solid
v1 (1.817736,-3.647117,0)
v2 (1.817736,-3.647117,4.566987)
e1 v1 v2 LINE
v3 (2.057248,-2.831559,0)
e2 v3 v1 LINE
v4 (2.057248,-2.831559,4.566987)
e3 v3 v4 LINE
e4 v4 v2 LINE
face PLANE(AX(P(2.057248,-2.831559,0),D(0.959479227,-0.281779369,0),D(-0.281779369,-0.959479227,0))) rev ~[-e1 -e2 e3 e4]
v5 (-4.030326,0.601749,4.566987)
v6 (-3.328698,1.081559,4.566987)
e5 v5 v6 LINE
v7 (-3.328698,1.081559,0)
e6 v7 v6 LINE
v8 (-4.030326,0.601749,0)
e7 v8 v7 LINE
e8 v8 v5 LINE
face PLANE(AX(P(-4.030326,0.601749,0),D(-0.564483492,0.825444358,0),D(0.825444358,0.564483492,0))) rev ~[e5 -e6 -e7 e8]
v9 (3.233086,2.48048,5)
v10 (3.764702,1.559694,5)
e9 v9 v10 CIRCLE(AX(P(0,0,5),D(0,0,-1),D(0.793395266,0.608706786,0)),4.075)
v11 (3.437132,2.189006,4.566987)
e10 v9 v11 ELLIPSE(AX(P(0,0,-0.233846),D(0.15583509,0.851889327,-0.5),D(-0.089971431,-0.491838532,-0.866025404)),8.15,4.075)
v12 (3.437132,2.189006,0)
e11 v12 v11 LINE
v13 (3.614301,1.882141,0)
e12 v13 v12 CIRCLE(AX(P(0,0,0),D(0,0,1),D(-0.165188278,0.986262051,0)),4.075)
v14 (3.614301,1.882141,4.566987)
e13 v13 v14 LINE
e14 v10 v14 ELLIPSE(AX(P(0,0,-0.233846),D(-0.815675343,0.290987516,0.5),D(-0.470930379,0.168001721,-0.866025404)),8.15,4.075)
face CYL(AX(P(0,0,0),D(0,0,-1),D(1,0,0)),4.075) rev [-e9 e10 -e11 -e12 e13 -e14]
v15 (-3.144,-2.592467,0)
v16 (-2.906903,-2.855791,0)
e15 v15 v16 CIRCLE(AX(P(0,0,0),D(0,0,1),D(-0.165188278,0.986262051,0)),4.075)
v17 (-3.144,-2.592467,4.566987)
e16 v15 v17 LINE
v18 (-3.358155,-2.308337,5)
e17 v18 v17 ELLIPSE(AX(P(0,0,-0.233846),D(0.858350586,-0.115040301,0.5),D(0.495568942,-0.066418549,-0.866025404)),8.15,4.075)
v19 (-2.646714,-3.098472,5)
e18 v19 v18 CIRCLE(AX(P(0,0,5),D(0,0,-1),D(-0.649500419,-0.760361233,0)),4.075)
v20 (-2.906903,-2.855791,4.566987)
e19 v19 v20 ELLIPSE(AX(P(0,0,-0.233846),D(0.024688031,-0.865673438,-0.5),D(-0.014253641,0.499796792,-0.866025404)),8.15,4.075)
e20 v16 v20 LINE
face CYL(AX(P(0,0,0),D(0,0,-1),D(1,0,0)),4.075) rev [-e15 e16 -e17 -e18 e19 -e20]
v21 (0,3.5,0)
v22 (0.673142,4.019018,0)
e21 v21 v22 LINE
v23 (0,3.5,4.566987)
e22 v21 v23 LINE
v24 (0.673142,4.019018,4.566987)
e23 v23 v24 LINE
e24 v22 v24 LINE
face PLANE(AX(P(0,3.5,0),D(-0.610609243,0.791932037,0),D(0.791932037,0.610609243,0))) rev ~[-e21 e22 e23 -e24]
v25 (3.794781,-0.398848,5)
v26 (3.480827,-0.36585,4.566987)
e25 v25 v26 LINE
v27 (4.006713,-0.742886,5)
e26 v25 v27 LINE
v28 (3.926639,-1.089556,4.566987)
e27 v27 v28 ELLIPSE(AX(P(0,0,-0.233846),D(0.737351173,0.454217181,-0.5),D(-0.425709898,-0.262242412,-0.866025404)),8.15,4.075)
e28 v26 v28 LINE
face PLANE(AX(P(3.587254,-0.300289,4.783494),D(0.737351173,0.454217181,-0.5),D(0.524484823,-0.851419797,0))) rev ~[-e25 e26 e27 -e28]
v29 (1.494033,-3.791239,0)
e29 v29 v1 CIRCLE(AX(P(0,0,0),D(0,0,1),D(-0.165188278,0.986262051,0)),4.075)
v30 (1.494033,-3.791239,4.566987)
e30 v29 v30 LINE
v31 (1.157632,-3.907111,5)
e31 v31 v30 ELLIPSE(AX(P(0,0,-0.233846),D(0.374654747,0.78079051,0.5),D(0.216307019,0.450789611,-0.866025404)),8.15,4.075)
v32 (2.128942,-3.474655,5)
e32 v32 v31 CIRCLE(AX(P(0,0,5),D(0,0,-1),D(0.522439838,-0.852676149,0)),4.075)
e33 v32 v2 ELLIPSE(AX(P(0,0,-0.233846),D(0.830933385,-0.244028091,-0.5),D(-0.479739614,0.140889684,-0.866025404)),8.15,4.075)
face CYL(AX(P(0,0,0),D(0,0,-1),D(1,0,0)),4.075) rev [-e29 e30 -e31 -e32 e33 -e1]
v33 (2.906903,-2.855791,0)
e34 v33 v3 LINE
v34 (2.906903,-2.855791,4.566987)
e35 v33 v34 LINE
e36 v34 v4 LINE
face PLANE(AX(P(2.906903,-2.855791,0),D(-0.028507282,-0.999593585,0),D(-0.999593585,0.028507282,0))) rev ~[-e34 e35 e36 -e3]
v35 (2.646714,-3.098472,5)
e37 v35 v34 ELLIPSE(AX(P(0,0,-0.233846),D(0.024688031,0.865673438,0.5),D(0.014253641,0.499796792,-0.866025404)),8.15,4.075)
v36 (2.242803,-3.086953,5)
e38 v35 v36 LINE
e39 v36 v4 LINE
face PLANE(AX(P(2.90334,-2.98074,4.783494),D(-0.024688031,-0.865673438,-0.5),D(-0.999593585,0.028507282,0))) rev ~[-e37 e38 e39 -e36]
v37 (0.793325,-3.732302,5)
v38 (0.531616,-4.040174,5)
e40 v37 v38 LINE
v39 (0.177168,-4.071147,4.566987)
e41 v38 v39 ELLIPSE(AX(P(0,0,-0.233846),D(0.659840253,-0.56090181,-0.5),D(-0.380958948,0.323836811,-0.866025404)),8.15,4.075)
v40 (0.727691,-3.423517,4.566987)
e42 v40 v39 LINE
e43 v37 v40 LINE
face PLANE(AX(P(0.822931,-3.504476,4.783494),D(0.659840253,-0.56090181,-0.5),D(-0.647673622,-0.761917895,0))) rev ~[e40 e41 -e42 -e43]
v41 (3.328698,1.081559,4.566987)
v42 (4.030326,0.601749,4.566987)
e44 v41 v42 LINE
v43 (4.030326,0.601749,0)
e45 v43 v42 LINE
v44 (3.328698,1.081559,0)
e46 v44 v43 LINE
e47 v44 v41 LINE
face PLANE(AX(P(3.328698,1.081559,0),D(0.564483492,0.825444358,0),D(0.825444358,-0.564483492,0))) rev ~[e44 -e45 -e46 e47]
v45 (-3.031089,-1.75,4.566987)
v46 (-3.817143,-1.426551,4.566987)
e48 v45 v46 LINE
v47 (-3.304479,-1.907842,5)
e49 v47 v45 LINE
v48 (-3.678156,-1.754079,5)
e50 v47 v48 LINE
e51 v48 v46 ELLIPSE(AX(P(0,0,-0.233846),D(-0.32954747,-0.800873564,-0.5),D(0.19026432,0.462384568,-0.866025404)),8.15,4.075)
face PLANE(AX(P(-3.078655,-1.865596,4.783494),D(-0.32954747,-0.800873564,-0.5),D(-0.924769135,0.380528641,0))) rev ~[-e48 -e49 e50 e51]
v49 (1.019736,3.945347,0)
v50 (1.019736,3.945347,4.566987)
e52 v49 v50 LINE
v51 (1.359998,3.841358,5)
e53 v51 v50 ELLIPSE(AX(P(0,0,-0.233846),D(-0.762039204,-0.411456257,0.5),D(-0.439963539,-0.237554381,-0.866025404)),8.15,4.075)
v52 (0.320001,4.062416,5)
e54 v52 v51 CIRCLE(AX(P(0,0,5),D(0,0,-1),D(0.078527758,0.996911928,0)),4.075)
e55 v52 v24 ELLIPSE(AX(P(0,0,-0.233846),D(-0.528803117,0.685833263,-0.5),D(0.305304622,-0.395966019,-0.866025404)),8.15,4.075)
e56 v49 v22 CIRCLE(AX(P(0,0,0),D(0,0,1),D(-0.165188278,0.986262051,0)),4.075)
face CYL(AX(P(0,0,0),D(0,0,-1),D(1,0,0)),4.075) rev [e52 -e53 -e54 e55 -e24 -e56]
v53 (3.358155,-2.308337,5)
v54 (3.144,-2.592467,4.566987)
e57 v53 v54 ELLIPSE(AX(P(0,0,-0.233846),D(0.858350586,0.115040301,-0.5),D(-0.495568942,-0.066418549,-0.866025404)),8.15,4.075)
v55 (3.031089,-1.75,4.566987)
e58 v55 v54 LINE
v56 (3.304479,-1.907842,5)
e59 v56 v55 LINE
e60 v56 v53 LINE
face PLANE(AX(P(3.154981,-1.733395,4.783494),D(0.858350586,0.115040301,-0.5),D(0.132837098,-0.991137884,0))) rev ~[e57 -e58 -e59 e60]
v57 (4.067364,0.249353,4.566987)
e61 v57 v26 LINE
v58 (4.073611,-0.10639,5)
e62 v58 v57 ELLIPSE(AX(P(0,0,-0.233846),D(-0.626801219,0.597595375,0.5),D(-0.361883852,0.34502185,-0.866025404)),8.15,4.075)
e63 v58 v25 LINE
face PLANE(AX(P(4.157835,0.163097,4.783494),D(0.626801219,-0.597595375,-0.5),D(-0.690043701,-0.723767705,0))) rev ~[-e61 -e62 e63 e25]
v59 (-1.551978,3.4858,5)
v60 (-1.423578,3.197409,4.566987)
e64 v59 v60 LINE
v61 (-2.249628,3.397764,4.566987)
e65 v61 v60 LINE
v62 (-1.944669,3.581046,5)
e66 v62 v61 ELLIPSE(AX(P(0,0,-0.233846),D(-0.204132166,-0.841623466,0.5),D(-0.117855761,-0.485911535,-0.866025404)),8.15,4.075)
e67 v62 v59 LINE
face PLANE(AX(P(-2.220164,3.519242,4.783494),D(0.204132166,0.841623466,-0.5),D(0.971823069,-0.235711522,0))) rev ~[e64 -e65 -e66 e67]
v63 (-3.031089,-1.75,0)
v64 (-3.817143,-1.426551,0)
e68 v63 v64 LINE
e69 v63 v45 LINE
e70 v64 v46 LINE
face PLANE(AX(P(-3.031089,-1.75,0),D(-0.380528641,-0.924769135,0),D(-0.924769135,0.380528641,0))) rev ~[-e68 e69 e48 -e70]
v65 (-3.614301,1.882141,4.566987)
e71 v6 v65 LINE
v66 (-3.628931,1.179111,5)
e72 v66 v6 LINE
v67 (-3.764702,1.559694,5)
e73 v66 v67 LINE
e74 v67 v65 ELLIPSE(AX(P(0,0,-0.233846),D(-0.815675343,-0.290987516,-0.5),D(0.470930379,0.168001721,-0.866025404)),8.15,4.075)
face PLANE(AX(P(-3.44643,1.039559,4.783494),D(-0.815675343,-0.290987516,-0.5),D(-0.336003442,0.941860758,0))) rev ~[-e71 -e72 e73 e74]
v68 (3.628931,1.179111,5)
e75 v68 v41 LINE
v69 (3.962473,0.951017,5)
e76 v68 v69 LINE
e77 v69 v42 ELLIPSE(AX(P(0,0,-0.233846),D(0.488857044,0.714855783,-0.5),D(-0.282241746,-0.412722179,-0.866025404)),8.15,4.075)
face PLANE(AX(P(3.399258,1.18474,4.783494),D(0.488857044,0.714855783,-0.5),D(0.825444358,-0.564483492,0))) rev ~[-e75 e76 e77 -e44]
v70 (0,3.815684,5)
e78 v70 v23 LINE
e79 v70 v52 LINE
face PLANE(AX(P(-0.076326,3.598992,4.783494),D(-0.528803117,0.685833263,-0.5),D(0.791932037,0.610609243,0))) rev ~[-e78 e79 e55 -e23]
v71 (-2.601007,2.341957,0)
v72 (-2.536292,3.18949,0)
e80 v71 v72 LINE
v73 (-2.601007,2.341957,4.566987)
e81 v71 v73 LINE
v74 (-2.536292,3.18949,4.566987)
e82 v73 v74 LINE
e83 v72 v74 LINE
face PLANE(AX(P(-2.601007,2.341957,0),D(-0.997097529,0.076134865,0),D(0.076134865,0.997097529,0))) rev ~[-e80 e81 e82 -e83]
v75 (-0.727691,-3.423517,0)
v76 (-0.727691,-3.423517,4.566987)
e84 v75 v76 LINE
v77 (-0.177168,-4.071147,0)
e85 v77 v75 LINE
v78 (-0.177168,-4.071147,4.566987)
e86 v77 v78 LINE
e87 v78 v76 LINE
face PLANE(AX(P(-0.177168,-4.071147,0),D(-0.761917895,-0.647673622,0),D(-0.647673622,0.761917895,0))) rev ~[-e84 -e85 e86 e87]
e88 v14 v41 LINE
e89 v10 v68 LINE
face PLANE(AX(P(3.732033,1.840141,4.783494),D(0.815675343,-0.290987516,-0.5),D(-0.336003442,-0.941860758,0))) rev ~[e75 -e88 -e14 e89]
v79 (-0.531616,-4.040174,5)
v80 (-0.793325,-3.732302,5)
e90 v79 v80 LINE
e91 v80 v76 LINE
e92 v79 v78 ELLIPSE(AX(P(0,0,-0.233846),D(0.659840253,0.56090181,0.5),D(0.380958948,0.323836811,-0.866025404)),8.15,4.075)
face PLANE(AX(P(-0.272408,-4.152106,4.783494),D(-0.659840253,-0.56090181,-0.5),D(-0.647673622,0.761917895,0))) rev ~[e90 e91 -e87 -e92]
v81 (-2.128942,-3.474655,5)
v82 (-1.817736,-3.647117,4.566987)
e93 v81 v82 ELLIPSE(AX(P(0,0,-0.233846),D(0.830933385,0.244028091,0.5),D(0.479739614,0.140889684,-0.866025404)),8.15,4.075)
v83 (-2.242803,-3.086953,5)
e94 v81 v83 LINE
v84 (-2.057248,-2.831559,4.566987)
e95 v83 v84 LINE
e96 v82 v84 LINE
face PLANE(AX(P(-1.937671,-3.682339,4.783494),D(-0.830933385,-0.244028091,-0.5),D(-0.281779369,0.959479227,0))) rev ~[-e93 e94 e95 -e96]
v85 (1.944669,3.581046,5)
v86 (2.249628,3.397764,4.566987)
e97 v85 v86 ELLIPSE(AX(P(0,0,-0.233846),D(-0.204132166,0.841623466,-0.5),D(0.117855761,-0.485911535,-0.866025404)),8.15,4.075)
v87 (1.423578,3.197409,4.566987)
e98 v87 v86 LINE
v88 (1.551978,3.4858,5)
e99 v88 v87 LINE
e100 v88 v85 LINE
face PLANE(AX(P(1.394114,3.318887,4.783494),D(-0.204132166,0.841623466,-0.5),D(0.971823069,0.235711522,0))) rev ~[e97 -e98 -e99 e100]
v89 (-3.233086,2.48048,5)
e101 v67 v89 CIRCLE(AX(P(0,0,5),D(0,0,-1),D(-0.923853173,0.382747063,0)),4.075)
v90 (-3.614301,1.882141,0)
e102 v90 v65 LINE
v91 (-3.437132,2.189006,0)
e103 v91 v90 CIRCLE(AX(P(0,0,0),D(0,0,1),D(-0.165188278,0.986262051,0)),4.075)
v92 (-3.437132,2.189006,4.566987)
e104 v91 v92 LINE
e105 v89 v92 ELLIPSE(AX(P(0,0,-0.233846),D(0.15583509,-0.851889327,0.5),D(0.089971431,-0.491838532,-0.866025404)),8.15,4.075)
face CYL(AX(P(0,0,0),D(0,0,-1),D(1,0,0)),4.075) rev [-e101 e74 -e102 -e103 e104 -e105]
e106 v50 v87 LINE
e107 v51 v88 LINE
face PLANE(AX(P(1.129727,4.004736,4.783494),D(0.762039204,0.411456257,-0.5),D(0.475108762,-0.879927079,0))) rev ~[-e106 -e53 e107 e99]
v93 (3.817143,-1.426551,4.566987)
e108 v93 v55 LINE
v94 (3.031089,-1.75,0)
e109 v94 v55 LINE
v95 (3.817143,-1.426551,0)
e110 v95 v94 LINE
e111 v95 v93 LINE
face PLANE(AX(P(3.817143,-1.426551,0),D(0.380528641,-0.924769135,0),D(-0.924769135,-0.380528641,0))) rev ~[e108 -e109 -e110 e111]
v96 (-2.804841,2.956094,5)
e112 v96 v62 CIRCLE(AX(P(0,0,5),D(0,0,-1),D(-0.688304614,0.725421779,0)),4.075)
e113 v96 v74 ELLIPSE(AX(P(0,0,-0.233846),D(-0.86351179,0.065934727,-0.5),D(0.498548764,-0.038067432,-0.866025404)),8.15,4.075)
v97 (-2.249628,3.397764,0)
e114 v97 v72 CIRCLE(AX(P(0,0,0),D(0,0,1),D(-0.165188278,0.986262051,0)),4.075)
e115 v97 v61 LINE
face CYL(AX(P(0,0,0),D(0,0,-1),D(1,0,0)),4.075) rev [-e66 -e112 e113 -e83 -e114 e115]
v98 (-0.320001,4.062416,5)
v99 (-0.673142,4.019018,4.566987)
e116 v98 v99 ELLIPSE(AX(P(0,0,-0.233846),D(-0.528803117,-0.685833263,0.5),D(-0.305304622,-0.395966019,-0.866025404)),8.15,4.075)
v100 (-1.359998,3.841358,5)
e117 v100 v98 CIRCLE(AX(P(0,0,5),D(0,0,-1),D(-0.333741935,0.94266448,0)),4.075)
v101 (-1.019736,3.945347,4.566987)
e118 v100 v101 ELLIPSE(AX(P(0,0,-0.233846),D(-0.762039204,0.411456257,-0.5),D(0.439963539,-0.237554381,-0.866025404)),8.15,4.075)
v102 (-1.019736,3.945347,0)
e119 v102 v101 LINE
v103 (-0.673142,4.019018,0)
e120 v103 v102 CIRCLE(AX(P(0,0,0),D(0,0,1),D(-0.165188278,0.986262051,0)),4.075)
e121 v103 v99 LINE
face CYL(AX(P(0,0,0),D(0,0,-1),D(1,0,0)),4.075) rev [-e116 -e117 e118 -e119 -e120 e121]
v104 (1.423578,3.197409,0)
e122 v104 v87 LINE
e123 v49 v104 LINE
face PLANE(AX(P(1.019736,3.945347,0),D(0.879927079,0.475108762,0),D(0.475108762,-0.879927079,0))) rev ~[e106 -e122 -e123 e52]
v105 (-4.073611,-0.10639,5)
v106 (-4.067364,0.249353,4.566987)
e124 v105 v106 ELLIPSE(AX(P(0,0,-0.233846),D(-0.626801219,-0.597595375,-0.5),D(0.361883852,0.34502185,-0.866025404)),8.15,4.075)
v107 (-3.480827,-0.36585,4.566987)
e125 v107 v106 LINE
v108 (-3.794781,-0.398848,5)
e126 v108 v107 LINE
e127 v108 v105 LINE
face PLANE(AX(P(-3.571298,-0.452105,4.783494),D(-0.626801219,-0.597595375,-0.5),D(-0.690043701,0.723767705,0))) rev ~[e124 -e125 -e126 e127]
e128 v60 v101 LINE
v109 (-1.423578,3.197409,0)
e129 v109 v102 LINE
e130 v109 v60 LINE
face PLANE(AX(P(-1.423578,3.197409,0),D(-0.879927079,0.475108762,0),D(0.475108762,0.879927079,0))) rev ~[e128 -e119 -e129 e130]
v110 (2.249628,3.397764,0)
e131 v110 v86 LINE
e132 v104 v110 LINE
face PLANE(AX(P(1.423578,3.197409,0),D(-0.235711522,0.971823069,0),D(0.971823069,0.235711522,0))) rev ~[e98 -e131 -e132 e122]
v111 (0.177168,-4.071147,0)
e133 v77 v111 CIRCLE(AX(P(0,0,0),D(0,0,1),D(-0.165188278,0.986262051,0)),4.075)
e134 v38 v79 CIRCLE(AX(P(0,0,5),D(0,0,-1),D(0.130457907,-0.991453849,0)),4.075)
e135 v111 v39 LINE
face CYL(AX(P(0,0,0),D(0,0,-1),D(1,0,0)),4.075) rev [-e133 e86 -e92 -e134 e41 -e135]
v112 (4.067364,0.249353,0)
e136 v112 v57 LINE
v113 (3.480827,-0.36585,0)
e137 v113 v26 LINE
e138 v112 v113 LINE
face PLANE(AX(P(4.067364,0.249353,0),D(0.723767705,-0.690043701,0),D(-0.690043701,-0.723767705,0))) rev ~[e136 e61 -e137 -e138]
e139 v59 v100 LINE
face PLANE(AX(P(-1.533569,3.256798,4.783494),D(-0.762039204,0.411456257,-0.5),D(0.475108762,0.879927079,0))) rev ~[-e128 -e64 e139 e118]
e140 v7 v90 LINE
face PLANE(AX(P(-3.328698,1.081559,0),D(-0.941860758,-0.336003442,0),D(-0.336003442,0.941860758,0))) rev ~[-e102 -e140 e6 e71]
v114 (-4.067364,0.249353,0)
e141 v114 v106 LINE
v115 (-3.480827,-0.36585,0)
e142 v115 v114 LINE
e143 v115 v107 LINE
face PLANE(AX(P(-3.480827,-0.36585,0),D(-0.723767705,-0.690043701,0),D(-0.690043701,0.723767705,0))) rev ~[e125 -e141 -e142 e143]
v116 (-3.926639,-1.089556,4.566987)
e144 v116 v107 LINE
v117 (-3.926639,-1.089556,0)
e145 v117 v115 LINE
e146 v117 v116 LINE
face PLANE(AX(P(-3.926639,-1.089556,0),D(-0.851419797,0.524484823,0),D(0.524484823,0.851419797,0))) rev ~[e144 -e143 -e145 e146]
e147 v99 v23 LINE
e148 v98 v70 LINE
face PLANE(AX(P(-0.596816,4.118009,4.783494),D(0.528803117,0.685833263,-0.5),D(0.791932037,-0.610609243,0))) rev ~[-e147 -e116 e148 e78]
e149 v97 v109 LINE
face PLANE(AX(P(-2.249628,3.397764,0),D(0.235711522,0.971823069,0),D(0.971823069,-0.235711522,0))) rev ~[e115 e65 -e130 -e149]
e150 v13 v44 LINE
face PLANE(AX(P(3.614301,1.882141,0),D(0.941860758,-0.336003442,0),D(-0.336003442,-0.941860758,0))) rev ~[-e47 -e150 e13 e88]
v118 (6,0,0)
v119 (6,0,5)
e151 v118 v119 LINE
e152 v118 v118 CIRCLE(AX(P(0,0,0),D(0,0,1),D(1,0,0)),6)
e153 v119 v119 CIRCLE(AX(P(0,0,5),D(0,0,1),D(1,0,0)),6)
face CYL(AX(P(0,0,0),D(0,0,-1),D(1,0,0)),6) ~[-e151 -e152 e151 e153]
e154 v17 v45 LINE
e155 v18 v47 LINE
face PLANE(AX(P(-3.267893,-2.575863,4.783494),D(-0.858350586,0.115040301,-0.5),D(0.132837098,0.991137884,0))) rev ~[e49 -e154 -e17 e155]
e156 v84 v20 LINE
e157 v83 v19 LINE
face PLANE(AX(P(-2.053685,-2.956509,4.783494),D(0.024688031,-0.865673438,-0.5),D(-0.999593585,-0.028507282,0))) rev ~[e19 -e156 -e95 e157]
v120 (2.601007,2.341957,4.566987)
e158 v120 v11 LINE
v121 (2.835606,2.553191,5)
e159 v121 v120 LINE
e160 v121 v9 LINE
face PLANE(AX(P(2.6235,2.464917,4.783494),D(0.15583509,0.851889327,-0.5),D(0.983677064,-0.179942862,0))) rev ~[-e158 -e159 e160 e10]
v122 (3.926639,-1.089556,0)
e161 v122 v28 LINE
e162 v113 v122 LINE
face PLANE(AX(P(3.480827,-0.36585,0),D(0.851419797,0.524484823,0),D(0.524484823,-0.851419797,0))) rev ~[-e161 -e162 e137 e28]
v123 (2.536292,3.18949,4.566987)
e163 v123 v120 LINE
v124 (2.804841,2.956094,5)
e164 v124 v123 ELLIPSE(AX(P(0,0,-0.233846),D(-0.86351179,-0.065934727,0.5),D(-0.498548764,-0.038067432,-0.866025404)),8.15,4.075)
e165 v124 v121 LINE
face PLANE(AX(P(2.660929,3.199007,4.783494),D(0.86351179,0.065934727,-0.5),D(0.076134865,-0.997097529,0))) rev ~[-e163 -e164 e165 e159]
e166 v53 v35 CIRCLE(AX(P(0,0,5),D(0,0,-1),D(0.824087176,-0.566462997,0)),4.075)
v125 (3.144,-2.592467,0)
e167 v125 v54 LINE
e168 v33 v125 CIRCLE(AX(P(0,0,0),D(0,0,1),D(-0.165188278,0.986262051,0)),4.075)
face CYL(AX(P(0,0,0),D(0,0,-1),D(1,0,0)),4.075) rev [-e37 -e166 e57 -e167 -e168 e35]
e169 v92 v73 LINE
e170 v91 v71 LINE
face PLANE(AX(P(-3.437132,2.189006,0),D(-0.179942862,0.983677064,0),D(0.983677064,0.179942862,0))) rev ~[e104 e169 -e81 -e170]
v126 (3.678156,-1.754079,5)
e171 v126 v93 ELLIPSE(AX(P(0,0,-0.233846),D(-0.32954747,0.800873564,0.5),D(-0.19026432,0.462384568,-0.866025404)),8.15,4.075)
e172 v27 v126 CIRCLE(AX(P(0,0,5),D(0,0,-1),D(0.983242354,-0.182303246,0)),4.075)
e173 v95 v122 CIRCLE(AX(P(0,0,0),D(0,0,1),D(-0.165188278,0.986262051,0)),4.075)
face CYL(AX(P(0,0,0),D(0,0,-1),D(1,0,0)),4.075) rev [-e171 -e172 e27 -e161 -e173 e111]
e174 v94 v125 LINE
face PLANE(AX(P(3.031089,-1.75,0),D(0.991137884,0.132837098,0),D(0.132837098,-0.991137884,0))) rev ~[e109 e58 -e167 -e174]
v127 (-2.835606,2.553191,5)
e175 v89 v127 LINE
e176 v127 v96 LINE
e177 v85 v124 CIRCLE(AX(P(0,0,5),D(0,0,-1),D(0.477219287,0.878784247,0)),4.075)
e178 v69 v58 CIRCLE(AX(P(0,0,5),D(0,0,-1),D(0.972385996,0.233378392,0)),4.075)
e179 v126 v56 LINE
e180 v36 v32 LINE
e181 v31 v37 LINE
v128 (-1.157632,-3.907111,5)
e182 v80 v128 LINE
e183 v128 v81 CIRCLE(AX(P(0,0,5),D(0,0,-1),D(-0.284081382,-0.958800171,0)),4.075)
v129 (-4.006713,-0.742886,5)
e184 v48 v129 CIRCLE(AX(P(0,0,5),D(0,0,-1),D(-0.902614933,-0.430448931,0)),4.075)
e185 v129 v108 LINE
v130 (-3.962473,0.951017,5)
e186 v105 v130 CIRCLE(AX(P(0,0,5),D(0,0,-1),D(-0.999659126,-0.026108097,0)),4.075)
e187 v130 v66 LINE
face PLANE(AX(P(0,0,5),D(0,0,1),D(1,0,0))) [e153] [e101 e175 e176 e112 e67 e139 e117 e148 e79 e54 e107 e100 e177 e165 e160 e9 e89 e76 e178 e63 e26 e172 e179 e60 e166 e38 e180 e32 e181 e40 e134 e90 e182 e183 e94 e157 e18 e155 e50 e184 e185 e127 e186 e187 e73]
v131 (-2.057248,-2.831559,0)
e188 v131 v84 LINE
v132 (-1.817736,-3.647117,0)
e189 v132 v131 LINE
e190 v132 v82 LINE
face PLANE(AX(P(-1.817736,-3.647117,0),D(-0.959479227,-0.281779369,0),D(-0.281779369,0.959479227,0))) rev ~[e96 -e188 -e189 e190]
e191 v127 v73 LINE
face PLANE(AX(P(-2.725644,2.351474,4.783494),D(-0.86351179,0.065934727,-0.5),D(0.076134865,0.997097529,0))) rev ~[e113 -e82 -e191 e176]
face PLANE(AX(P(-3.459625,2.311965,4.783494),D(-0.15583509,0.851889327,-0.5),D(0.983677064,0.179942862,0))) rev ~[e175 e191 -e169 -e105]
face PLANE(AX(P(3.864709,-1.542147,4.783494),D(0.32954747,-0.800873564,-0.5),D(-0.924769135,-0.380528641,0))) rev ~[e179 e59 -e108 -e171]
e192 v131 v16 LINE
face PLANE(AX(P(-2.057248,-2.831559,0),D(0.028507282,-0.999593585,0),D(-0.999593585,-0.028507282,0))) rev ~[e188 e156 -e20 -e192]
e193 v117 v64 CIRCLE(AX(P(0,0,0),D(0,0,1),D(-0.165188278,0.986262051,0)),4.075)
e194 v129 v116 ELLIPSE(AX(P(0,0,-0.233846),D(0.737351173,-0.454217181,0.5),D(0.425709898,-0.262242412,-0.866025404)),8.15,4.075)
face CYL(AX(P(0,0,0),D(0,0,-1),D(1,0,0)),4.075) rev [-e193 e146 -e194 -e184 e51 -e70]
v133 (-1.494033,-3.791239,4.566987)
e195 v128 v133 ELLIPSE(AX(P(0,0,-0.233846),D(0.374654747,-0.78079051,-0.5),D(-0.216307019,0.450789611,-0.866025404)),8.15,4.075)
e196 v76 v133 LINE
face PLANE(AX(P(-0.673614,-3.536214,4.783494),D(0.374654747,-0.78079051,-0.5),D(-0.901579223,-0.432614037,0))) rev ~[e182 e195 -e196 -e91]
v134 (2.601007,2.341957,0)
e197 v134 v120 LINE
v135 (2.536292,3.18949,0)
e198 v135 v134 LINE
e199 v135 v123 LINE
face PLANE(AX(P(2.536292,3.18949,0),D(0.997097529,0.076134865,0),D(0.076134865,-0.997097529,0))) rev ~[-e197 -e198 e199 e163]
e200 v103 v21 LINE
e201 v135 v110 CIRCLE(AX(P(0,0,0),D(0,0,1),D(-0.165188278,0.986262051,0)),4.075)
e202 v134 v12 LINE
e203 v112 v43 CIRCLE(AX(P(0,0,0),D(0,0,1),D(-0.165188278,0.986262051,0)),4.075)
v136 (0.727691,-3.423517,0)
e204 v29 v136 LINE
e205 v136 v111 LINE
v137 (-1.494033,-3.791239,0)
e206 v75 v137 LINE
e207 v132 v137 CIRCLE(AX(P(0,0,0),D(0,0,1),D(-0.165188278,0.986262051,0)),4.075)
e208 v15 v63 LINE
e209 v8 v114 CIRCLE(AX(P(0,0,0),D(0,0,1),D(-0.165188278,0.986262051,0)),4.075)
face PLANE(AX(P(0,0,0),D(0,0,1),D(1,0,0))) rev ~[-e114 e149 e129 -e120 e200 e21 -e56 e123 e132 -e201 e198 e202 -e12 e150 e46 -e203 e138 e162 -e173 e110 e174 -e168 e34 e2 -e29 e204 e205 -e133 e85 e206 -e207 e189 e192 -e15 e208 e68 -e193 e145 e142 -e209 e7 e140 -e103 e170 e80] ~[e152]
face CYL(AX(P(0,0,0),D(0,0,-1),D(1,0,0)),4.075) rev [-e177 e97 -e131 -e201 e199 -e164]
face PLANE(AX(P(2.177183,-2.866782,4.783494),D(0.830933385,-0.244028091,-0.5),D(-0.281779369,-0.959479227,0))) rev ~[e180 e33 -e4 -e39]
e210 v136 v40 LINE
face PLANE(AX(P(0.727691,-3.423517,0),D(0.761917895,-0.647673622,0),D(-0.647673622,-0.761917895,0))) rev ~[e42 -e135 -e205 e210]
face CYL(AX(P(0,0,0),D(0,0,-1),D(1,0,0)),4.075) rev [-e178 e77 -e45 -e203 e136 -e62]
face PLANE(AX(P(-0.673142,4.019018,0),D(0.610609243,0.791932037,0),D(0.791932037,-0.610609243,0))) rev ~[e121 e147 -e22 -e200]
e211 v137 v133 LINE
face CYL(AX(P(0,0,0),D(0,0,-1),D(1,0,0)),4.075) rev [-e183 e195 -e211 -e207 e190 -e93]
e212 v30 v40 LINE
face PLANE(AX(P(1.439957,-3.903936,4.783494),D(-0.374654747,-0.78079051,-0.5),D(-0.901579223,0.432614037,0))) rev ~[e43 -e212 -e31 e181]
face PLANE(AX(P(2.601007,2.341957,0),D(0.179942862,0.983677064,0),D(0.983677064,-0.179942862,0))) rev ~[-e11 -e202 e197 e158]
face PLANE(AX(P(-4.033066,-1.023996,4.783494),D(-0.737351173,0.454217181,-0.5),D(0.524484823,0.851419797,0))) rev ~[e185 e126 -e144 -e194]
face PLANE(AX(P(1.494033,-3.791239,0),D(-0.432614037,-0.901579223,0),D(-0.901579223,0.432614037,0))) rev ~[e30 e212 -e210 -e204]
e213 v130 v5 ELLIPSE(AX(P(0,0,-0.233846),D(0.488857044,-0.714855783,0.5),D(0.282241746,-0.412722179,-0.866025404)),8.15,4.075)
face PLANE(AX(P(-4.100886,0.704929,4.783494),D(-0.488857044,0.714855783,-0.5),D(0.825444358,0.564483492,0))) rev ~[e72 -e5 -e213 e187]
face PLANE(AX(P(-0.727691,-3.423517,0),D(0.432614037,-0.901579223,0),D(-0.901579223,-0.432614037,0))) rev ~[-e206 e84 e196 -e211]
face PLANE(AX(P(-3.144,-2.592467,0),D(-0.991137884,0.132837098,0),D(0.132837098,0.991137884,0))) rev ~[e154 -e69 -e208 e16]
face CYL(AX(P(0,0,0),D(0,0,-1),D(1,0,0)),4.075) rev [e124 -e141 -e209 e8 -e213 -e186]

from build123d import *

# Parameters (mm, degrees)
SKETCH1_R                          = 6
SKETCH1_R_2                        = 4.075
RING_DEPTH                         = 5
SINGLE_TEETH_DEPTH                 = 5
TEETHCHAMPFER_SIZE                 = 0.25
TEETHCHAMPFER_SIZE2                = 0.433012702
F_15TH_TEETHS_COUNT                = 15
TEETHCHAMPFER_OF_15TH_TEETHS_SIZE2 = 0.433012702
TEETHCHAMPFER_OF_15TH_TEETHS_SIZE  = 0.25


with BuildPart() as part:
    # Sketch1 → ring (new body)
    with BuildSketch(Plane.XY):
        Circle(SKETCH1_R)
        Circle(SKETCH1_R_2, mode=Mode.SUBTRACT)
    extrude(amount=RING_DEPTH)

    # Sketch1<4> → single teeth (add)
    with BuildSketch(Plane.XY):
        with BuildLine():
            Line((-0.673142232, 4.019017857), (0, 3.5))
            Line((0, 3.5), (0.673142232, 4.019017857))
            ThreePointArc((0.673142232, 4.019017857), (0, 4.075), (-0.673142232, 4.019017857))
        make_face()
    single_teeth = extrude(amount=SINGLE_TEETH_DEPTH)

    # teethChampfer
    teethchampfer_edges = [part.edges().sort_by_distance(p)[0] for p in [
        (-0.336571116, 3.759508929, 5),
        (0.336571116, 3.759508929, 5),
    ]]
    teethchampfer_side = [part.faces().sort_by_distance(p)[0] for p in [
        (-5.830294373, 0, 5),
    ]]
    chamfer(teethchampfer_edges, length=TEETHCHAMPFER_SIZE, length2=TEETHCHAMPFER_SIZE2, reference=teethchampfer_side[0])

    # 15th teeths: single teeth ×15 about axis
    f_15th_teeths_axis = Axis((0, 0, 0), (0, 0, 1))
    for i in range(1, F_15TH_TEETHS_COUNT):
        add(single_teeth.rotate(f_15th_teeths_axis, i * 360 / F_15TH_TEETHS_COUNT))

    # teethChampfer of 15th teeths
    teethchampfer_of_15th_teeths_edges = [part.edges().sort_by_distance(p)[0] for p in [
        (-1.836603055, 3.297586499, 5),
        (-1.221657027, 3.57137811, 5),
        (-3.019069641, 2.265481406, 5),
        (-2.568649572, 2.765723572, 5),
        (-3.679511659, 0.841653997, 5),
        (-3.47149927, 1.481850302, 5),
        (-3.703732684, -0.727703035, 5),
        (-3.774095207, -0.058248347, 5),
        (-3.08754468, -2.171233601, 5),
        (-3.424115796, -1.588275328, 5),
        (-1.937492152, -3.239338152, 5),
        (-2.482075657, -2.843675076, 5),
        (-0.452429629, -3.747331708, 5),
        (-1.110862087, -3.607377569, 5),
        (1.110862087, -3.607377569, 5),
        (0.452429629, -3.747331708, 5),
        (2.482075657, -2.843675076, 5),
        (1.937492152, -3.239338152, 5),
        (3.424115796, -1.588275328, 5),
        (3.08754468, -2.171233601, 5),
        (3.774095207, -0.058248347, 5),
        (3.703732684, -0.727703035, 5),
        (3.47149927, 1.481850302, 5),
        (3.679511659, 0.841653997, 5),
        (2.568649572, 2.765723572, 5),
        (3.019069641, 2.265481406, 5),
        (1.221657027, 3.57137811, 5),
        (1.836603055, 3.297586499, 5),
    ]]
    chamfer(teethchampfer_of_15th_teeths_edges, length=TEETHCHAMPFER_OF_15TH_TEETHS_SIZE, length2=TEETHCHAMPFER_OF_15TH_TEETHS_SIZE2)


solid = part.part
